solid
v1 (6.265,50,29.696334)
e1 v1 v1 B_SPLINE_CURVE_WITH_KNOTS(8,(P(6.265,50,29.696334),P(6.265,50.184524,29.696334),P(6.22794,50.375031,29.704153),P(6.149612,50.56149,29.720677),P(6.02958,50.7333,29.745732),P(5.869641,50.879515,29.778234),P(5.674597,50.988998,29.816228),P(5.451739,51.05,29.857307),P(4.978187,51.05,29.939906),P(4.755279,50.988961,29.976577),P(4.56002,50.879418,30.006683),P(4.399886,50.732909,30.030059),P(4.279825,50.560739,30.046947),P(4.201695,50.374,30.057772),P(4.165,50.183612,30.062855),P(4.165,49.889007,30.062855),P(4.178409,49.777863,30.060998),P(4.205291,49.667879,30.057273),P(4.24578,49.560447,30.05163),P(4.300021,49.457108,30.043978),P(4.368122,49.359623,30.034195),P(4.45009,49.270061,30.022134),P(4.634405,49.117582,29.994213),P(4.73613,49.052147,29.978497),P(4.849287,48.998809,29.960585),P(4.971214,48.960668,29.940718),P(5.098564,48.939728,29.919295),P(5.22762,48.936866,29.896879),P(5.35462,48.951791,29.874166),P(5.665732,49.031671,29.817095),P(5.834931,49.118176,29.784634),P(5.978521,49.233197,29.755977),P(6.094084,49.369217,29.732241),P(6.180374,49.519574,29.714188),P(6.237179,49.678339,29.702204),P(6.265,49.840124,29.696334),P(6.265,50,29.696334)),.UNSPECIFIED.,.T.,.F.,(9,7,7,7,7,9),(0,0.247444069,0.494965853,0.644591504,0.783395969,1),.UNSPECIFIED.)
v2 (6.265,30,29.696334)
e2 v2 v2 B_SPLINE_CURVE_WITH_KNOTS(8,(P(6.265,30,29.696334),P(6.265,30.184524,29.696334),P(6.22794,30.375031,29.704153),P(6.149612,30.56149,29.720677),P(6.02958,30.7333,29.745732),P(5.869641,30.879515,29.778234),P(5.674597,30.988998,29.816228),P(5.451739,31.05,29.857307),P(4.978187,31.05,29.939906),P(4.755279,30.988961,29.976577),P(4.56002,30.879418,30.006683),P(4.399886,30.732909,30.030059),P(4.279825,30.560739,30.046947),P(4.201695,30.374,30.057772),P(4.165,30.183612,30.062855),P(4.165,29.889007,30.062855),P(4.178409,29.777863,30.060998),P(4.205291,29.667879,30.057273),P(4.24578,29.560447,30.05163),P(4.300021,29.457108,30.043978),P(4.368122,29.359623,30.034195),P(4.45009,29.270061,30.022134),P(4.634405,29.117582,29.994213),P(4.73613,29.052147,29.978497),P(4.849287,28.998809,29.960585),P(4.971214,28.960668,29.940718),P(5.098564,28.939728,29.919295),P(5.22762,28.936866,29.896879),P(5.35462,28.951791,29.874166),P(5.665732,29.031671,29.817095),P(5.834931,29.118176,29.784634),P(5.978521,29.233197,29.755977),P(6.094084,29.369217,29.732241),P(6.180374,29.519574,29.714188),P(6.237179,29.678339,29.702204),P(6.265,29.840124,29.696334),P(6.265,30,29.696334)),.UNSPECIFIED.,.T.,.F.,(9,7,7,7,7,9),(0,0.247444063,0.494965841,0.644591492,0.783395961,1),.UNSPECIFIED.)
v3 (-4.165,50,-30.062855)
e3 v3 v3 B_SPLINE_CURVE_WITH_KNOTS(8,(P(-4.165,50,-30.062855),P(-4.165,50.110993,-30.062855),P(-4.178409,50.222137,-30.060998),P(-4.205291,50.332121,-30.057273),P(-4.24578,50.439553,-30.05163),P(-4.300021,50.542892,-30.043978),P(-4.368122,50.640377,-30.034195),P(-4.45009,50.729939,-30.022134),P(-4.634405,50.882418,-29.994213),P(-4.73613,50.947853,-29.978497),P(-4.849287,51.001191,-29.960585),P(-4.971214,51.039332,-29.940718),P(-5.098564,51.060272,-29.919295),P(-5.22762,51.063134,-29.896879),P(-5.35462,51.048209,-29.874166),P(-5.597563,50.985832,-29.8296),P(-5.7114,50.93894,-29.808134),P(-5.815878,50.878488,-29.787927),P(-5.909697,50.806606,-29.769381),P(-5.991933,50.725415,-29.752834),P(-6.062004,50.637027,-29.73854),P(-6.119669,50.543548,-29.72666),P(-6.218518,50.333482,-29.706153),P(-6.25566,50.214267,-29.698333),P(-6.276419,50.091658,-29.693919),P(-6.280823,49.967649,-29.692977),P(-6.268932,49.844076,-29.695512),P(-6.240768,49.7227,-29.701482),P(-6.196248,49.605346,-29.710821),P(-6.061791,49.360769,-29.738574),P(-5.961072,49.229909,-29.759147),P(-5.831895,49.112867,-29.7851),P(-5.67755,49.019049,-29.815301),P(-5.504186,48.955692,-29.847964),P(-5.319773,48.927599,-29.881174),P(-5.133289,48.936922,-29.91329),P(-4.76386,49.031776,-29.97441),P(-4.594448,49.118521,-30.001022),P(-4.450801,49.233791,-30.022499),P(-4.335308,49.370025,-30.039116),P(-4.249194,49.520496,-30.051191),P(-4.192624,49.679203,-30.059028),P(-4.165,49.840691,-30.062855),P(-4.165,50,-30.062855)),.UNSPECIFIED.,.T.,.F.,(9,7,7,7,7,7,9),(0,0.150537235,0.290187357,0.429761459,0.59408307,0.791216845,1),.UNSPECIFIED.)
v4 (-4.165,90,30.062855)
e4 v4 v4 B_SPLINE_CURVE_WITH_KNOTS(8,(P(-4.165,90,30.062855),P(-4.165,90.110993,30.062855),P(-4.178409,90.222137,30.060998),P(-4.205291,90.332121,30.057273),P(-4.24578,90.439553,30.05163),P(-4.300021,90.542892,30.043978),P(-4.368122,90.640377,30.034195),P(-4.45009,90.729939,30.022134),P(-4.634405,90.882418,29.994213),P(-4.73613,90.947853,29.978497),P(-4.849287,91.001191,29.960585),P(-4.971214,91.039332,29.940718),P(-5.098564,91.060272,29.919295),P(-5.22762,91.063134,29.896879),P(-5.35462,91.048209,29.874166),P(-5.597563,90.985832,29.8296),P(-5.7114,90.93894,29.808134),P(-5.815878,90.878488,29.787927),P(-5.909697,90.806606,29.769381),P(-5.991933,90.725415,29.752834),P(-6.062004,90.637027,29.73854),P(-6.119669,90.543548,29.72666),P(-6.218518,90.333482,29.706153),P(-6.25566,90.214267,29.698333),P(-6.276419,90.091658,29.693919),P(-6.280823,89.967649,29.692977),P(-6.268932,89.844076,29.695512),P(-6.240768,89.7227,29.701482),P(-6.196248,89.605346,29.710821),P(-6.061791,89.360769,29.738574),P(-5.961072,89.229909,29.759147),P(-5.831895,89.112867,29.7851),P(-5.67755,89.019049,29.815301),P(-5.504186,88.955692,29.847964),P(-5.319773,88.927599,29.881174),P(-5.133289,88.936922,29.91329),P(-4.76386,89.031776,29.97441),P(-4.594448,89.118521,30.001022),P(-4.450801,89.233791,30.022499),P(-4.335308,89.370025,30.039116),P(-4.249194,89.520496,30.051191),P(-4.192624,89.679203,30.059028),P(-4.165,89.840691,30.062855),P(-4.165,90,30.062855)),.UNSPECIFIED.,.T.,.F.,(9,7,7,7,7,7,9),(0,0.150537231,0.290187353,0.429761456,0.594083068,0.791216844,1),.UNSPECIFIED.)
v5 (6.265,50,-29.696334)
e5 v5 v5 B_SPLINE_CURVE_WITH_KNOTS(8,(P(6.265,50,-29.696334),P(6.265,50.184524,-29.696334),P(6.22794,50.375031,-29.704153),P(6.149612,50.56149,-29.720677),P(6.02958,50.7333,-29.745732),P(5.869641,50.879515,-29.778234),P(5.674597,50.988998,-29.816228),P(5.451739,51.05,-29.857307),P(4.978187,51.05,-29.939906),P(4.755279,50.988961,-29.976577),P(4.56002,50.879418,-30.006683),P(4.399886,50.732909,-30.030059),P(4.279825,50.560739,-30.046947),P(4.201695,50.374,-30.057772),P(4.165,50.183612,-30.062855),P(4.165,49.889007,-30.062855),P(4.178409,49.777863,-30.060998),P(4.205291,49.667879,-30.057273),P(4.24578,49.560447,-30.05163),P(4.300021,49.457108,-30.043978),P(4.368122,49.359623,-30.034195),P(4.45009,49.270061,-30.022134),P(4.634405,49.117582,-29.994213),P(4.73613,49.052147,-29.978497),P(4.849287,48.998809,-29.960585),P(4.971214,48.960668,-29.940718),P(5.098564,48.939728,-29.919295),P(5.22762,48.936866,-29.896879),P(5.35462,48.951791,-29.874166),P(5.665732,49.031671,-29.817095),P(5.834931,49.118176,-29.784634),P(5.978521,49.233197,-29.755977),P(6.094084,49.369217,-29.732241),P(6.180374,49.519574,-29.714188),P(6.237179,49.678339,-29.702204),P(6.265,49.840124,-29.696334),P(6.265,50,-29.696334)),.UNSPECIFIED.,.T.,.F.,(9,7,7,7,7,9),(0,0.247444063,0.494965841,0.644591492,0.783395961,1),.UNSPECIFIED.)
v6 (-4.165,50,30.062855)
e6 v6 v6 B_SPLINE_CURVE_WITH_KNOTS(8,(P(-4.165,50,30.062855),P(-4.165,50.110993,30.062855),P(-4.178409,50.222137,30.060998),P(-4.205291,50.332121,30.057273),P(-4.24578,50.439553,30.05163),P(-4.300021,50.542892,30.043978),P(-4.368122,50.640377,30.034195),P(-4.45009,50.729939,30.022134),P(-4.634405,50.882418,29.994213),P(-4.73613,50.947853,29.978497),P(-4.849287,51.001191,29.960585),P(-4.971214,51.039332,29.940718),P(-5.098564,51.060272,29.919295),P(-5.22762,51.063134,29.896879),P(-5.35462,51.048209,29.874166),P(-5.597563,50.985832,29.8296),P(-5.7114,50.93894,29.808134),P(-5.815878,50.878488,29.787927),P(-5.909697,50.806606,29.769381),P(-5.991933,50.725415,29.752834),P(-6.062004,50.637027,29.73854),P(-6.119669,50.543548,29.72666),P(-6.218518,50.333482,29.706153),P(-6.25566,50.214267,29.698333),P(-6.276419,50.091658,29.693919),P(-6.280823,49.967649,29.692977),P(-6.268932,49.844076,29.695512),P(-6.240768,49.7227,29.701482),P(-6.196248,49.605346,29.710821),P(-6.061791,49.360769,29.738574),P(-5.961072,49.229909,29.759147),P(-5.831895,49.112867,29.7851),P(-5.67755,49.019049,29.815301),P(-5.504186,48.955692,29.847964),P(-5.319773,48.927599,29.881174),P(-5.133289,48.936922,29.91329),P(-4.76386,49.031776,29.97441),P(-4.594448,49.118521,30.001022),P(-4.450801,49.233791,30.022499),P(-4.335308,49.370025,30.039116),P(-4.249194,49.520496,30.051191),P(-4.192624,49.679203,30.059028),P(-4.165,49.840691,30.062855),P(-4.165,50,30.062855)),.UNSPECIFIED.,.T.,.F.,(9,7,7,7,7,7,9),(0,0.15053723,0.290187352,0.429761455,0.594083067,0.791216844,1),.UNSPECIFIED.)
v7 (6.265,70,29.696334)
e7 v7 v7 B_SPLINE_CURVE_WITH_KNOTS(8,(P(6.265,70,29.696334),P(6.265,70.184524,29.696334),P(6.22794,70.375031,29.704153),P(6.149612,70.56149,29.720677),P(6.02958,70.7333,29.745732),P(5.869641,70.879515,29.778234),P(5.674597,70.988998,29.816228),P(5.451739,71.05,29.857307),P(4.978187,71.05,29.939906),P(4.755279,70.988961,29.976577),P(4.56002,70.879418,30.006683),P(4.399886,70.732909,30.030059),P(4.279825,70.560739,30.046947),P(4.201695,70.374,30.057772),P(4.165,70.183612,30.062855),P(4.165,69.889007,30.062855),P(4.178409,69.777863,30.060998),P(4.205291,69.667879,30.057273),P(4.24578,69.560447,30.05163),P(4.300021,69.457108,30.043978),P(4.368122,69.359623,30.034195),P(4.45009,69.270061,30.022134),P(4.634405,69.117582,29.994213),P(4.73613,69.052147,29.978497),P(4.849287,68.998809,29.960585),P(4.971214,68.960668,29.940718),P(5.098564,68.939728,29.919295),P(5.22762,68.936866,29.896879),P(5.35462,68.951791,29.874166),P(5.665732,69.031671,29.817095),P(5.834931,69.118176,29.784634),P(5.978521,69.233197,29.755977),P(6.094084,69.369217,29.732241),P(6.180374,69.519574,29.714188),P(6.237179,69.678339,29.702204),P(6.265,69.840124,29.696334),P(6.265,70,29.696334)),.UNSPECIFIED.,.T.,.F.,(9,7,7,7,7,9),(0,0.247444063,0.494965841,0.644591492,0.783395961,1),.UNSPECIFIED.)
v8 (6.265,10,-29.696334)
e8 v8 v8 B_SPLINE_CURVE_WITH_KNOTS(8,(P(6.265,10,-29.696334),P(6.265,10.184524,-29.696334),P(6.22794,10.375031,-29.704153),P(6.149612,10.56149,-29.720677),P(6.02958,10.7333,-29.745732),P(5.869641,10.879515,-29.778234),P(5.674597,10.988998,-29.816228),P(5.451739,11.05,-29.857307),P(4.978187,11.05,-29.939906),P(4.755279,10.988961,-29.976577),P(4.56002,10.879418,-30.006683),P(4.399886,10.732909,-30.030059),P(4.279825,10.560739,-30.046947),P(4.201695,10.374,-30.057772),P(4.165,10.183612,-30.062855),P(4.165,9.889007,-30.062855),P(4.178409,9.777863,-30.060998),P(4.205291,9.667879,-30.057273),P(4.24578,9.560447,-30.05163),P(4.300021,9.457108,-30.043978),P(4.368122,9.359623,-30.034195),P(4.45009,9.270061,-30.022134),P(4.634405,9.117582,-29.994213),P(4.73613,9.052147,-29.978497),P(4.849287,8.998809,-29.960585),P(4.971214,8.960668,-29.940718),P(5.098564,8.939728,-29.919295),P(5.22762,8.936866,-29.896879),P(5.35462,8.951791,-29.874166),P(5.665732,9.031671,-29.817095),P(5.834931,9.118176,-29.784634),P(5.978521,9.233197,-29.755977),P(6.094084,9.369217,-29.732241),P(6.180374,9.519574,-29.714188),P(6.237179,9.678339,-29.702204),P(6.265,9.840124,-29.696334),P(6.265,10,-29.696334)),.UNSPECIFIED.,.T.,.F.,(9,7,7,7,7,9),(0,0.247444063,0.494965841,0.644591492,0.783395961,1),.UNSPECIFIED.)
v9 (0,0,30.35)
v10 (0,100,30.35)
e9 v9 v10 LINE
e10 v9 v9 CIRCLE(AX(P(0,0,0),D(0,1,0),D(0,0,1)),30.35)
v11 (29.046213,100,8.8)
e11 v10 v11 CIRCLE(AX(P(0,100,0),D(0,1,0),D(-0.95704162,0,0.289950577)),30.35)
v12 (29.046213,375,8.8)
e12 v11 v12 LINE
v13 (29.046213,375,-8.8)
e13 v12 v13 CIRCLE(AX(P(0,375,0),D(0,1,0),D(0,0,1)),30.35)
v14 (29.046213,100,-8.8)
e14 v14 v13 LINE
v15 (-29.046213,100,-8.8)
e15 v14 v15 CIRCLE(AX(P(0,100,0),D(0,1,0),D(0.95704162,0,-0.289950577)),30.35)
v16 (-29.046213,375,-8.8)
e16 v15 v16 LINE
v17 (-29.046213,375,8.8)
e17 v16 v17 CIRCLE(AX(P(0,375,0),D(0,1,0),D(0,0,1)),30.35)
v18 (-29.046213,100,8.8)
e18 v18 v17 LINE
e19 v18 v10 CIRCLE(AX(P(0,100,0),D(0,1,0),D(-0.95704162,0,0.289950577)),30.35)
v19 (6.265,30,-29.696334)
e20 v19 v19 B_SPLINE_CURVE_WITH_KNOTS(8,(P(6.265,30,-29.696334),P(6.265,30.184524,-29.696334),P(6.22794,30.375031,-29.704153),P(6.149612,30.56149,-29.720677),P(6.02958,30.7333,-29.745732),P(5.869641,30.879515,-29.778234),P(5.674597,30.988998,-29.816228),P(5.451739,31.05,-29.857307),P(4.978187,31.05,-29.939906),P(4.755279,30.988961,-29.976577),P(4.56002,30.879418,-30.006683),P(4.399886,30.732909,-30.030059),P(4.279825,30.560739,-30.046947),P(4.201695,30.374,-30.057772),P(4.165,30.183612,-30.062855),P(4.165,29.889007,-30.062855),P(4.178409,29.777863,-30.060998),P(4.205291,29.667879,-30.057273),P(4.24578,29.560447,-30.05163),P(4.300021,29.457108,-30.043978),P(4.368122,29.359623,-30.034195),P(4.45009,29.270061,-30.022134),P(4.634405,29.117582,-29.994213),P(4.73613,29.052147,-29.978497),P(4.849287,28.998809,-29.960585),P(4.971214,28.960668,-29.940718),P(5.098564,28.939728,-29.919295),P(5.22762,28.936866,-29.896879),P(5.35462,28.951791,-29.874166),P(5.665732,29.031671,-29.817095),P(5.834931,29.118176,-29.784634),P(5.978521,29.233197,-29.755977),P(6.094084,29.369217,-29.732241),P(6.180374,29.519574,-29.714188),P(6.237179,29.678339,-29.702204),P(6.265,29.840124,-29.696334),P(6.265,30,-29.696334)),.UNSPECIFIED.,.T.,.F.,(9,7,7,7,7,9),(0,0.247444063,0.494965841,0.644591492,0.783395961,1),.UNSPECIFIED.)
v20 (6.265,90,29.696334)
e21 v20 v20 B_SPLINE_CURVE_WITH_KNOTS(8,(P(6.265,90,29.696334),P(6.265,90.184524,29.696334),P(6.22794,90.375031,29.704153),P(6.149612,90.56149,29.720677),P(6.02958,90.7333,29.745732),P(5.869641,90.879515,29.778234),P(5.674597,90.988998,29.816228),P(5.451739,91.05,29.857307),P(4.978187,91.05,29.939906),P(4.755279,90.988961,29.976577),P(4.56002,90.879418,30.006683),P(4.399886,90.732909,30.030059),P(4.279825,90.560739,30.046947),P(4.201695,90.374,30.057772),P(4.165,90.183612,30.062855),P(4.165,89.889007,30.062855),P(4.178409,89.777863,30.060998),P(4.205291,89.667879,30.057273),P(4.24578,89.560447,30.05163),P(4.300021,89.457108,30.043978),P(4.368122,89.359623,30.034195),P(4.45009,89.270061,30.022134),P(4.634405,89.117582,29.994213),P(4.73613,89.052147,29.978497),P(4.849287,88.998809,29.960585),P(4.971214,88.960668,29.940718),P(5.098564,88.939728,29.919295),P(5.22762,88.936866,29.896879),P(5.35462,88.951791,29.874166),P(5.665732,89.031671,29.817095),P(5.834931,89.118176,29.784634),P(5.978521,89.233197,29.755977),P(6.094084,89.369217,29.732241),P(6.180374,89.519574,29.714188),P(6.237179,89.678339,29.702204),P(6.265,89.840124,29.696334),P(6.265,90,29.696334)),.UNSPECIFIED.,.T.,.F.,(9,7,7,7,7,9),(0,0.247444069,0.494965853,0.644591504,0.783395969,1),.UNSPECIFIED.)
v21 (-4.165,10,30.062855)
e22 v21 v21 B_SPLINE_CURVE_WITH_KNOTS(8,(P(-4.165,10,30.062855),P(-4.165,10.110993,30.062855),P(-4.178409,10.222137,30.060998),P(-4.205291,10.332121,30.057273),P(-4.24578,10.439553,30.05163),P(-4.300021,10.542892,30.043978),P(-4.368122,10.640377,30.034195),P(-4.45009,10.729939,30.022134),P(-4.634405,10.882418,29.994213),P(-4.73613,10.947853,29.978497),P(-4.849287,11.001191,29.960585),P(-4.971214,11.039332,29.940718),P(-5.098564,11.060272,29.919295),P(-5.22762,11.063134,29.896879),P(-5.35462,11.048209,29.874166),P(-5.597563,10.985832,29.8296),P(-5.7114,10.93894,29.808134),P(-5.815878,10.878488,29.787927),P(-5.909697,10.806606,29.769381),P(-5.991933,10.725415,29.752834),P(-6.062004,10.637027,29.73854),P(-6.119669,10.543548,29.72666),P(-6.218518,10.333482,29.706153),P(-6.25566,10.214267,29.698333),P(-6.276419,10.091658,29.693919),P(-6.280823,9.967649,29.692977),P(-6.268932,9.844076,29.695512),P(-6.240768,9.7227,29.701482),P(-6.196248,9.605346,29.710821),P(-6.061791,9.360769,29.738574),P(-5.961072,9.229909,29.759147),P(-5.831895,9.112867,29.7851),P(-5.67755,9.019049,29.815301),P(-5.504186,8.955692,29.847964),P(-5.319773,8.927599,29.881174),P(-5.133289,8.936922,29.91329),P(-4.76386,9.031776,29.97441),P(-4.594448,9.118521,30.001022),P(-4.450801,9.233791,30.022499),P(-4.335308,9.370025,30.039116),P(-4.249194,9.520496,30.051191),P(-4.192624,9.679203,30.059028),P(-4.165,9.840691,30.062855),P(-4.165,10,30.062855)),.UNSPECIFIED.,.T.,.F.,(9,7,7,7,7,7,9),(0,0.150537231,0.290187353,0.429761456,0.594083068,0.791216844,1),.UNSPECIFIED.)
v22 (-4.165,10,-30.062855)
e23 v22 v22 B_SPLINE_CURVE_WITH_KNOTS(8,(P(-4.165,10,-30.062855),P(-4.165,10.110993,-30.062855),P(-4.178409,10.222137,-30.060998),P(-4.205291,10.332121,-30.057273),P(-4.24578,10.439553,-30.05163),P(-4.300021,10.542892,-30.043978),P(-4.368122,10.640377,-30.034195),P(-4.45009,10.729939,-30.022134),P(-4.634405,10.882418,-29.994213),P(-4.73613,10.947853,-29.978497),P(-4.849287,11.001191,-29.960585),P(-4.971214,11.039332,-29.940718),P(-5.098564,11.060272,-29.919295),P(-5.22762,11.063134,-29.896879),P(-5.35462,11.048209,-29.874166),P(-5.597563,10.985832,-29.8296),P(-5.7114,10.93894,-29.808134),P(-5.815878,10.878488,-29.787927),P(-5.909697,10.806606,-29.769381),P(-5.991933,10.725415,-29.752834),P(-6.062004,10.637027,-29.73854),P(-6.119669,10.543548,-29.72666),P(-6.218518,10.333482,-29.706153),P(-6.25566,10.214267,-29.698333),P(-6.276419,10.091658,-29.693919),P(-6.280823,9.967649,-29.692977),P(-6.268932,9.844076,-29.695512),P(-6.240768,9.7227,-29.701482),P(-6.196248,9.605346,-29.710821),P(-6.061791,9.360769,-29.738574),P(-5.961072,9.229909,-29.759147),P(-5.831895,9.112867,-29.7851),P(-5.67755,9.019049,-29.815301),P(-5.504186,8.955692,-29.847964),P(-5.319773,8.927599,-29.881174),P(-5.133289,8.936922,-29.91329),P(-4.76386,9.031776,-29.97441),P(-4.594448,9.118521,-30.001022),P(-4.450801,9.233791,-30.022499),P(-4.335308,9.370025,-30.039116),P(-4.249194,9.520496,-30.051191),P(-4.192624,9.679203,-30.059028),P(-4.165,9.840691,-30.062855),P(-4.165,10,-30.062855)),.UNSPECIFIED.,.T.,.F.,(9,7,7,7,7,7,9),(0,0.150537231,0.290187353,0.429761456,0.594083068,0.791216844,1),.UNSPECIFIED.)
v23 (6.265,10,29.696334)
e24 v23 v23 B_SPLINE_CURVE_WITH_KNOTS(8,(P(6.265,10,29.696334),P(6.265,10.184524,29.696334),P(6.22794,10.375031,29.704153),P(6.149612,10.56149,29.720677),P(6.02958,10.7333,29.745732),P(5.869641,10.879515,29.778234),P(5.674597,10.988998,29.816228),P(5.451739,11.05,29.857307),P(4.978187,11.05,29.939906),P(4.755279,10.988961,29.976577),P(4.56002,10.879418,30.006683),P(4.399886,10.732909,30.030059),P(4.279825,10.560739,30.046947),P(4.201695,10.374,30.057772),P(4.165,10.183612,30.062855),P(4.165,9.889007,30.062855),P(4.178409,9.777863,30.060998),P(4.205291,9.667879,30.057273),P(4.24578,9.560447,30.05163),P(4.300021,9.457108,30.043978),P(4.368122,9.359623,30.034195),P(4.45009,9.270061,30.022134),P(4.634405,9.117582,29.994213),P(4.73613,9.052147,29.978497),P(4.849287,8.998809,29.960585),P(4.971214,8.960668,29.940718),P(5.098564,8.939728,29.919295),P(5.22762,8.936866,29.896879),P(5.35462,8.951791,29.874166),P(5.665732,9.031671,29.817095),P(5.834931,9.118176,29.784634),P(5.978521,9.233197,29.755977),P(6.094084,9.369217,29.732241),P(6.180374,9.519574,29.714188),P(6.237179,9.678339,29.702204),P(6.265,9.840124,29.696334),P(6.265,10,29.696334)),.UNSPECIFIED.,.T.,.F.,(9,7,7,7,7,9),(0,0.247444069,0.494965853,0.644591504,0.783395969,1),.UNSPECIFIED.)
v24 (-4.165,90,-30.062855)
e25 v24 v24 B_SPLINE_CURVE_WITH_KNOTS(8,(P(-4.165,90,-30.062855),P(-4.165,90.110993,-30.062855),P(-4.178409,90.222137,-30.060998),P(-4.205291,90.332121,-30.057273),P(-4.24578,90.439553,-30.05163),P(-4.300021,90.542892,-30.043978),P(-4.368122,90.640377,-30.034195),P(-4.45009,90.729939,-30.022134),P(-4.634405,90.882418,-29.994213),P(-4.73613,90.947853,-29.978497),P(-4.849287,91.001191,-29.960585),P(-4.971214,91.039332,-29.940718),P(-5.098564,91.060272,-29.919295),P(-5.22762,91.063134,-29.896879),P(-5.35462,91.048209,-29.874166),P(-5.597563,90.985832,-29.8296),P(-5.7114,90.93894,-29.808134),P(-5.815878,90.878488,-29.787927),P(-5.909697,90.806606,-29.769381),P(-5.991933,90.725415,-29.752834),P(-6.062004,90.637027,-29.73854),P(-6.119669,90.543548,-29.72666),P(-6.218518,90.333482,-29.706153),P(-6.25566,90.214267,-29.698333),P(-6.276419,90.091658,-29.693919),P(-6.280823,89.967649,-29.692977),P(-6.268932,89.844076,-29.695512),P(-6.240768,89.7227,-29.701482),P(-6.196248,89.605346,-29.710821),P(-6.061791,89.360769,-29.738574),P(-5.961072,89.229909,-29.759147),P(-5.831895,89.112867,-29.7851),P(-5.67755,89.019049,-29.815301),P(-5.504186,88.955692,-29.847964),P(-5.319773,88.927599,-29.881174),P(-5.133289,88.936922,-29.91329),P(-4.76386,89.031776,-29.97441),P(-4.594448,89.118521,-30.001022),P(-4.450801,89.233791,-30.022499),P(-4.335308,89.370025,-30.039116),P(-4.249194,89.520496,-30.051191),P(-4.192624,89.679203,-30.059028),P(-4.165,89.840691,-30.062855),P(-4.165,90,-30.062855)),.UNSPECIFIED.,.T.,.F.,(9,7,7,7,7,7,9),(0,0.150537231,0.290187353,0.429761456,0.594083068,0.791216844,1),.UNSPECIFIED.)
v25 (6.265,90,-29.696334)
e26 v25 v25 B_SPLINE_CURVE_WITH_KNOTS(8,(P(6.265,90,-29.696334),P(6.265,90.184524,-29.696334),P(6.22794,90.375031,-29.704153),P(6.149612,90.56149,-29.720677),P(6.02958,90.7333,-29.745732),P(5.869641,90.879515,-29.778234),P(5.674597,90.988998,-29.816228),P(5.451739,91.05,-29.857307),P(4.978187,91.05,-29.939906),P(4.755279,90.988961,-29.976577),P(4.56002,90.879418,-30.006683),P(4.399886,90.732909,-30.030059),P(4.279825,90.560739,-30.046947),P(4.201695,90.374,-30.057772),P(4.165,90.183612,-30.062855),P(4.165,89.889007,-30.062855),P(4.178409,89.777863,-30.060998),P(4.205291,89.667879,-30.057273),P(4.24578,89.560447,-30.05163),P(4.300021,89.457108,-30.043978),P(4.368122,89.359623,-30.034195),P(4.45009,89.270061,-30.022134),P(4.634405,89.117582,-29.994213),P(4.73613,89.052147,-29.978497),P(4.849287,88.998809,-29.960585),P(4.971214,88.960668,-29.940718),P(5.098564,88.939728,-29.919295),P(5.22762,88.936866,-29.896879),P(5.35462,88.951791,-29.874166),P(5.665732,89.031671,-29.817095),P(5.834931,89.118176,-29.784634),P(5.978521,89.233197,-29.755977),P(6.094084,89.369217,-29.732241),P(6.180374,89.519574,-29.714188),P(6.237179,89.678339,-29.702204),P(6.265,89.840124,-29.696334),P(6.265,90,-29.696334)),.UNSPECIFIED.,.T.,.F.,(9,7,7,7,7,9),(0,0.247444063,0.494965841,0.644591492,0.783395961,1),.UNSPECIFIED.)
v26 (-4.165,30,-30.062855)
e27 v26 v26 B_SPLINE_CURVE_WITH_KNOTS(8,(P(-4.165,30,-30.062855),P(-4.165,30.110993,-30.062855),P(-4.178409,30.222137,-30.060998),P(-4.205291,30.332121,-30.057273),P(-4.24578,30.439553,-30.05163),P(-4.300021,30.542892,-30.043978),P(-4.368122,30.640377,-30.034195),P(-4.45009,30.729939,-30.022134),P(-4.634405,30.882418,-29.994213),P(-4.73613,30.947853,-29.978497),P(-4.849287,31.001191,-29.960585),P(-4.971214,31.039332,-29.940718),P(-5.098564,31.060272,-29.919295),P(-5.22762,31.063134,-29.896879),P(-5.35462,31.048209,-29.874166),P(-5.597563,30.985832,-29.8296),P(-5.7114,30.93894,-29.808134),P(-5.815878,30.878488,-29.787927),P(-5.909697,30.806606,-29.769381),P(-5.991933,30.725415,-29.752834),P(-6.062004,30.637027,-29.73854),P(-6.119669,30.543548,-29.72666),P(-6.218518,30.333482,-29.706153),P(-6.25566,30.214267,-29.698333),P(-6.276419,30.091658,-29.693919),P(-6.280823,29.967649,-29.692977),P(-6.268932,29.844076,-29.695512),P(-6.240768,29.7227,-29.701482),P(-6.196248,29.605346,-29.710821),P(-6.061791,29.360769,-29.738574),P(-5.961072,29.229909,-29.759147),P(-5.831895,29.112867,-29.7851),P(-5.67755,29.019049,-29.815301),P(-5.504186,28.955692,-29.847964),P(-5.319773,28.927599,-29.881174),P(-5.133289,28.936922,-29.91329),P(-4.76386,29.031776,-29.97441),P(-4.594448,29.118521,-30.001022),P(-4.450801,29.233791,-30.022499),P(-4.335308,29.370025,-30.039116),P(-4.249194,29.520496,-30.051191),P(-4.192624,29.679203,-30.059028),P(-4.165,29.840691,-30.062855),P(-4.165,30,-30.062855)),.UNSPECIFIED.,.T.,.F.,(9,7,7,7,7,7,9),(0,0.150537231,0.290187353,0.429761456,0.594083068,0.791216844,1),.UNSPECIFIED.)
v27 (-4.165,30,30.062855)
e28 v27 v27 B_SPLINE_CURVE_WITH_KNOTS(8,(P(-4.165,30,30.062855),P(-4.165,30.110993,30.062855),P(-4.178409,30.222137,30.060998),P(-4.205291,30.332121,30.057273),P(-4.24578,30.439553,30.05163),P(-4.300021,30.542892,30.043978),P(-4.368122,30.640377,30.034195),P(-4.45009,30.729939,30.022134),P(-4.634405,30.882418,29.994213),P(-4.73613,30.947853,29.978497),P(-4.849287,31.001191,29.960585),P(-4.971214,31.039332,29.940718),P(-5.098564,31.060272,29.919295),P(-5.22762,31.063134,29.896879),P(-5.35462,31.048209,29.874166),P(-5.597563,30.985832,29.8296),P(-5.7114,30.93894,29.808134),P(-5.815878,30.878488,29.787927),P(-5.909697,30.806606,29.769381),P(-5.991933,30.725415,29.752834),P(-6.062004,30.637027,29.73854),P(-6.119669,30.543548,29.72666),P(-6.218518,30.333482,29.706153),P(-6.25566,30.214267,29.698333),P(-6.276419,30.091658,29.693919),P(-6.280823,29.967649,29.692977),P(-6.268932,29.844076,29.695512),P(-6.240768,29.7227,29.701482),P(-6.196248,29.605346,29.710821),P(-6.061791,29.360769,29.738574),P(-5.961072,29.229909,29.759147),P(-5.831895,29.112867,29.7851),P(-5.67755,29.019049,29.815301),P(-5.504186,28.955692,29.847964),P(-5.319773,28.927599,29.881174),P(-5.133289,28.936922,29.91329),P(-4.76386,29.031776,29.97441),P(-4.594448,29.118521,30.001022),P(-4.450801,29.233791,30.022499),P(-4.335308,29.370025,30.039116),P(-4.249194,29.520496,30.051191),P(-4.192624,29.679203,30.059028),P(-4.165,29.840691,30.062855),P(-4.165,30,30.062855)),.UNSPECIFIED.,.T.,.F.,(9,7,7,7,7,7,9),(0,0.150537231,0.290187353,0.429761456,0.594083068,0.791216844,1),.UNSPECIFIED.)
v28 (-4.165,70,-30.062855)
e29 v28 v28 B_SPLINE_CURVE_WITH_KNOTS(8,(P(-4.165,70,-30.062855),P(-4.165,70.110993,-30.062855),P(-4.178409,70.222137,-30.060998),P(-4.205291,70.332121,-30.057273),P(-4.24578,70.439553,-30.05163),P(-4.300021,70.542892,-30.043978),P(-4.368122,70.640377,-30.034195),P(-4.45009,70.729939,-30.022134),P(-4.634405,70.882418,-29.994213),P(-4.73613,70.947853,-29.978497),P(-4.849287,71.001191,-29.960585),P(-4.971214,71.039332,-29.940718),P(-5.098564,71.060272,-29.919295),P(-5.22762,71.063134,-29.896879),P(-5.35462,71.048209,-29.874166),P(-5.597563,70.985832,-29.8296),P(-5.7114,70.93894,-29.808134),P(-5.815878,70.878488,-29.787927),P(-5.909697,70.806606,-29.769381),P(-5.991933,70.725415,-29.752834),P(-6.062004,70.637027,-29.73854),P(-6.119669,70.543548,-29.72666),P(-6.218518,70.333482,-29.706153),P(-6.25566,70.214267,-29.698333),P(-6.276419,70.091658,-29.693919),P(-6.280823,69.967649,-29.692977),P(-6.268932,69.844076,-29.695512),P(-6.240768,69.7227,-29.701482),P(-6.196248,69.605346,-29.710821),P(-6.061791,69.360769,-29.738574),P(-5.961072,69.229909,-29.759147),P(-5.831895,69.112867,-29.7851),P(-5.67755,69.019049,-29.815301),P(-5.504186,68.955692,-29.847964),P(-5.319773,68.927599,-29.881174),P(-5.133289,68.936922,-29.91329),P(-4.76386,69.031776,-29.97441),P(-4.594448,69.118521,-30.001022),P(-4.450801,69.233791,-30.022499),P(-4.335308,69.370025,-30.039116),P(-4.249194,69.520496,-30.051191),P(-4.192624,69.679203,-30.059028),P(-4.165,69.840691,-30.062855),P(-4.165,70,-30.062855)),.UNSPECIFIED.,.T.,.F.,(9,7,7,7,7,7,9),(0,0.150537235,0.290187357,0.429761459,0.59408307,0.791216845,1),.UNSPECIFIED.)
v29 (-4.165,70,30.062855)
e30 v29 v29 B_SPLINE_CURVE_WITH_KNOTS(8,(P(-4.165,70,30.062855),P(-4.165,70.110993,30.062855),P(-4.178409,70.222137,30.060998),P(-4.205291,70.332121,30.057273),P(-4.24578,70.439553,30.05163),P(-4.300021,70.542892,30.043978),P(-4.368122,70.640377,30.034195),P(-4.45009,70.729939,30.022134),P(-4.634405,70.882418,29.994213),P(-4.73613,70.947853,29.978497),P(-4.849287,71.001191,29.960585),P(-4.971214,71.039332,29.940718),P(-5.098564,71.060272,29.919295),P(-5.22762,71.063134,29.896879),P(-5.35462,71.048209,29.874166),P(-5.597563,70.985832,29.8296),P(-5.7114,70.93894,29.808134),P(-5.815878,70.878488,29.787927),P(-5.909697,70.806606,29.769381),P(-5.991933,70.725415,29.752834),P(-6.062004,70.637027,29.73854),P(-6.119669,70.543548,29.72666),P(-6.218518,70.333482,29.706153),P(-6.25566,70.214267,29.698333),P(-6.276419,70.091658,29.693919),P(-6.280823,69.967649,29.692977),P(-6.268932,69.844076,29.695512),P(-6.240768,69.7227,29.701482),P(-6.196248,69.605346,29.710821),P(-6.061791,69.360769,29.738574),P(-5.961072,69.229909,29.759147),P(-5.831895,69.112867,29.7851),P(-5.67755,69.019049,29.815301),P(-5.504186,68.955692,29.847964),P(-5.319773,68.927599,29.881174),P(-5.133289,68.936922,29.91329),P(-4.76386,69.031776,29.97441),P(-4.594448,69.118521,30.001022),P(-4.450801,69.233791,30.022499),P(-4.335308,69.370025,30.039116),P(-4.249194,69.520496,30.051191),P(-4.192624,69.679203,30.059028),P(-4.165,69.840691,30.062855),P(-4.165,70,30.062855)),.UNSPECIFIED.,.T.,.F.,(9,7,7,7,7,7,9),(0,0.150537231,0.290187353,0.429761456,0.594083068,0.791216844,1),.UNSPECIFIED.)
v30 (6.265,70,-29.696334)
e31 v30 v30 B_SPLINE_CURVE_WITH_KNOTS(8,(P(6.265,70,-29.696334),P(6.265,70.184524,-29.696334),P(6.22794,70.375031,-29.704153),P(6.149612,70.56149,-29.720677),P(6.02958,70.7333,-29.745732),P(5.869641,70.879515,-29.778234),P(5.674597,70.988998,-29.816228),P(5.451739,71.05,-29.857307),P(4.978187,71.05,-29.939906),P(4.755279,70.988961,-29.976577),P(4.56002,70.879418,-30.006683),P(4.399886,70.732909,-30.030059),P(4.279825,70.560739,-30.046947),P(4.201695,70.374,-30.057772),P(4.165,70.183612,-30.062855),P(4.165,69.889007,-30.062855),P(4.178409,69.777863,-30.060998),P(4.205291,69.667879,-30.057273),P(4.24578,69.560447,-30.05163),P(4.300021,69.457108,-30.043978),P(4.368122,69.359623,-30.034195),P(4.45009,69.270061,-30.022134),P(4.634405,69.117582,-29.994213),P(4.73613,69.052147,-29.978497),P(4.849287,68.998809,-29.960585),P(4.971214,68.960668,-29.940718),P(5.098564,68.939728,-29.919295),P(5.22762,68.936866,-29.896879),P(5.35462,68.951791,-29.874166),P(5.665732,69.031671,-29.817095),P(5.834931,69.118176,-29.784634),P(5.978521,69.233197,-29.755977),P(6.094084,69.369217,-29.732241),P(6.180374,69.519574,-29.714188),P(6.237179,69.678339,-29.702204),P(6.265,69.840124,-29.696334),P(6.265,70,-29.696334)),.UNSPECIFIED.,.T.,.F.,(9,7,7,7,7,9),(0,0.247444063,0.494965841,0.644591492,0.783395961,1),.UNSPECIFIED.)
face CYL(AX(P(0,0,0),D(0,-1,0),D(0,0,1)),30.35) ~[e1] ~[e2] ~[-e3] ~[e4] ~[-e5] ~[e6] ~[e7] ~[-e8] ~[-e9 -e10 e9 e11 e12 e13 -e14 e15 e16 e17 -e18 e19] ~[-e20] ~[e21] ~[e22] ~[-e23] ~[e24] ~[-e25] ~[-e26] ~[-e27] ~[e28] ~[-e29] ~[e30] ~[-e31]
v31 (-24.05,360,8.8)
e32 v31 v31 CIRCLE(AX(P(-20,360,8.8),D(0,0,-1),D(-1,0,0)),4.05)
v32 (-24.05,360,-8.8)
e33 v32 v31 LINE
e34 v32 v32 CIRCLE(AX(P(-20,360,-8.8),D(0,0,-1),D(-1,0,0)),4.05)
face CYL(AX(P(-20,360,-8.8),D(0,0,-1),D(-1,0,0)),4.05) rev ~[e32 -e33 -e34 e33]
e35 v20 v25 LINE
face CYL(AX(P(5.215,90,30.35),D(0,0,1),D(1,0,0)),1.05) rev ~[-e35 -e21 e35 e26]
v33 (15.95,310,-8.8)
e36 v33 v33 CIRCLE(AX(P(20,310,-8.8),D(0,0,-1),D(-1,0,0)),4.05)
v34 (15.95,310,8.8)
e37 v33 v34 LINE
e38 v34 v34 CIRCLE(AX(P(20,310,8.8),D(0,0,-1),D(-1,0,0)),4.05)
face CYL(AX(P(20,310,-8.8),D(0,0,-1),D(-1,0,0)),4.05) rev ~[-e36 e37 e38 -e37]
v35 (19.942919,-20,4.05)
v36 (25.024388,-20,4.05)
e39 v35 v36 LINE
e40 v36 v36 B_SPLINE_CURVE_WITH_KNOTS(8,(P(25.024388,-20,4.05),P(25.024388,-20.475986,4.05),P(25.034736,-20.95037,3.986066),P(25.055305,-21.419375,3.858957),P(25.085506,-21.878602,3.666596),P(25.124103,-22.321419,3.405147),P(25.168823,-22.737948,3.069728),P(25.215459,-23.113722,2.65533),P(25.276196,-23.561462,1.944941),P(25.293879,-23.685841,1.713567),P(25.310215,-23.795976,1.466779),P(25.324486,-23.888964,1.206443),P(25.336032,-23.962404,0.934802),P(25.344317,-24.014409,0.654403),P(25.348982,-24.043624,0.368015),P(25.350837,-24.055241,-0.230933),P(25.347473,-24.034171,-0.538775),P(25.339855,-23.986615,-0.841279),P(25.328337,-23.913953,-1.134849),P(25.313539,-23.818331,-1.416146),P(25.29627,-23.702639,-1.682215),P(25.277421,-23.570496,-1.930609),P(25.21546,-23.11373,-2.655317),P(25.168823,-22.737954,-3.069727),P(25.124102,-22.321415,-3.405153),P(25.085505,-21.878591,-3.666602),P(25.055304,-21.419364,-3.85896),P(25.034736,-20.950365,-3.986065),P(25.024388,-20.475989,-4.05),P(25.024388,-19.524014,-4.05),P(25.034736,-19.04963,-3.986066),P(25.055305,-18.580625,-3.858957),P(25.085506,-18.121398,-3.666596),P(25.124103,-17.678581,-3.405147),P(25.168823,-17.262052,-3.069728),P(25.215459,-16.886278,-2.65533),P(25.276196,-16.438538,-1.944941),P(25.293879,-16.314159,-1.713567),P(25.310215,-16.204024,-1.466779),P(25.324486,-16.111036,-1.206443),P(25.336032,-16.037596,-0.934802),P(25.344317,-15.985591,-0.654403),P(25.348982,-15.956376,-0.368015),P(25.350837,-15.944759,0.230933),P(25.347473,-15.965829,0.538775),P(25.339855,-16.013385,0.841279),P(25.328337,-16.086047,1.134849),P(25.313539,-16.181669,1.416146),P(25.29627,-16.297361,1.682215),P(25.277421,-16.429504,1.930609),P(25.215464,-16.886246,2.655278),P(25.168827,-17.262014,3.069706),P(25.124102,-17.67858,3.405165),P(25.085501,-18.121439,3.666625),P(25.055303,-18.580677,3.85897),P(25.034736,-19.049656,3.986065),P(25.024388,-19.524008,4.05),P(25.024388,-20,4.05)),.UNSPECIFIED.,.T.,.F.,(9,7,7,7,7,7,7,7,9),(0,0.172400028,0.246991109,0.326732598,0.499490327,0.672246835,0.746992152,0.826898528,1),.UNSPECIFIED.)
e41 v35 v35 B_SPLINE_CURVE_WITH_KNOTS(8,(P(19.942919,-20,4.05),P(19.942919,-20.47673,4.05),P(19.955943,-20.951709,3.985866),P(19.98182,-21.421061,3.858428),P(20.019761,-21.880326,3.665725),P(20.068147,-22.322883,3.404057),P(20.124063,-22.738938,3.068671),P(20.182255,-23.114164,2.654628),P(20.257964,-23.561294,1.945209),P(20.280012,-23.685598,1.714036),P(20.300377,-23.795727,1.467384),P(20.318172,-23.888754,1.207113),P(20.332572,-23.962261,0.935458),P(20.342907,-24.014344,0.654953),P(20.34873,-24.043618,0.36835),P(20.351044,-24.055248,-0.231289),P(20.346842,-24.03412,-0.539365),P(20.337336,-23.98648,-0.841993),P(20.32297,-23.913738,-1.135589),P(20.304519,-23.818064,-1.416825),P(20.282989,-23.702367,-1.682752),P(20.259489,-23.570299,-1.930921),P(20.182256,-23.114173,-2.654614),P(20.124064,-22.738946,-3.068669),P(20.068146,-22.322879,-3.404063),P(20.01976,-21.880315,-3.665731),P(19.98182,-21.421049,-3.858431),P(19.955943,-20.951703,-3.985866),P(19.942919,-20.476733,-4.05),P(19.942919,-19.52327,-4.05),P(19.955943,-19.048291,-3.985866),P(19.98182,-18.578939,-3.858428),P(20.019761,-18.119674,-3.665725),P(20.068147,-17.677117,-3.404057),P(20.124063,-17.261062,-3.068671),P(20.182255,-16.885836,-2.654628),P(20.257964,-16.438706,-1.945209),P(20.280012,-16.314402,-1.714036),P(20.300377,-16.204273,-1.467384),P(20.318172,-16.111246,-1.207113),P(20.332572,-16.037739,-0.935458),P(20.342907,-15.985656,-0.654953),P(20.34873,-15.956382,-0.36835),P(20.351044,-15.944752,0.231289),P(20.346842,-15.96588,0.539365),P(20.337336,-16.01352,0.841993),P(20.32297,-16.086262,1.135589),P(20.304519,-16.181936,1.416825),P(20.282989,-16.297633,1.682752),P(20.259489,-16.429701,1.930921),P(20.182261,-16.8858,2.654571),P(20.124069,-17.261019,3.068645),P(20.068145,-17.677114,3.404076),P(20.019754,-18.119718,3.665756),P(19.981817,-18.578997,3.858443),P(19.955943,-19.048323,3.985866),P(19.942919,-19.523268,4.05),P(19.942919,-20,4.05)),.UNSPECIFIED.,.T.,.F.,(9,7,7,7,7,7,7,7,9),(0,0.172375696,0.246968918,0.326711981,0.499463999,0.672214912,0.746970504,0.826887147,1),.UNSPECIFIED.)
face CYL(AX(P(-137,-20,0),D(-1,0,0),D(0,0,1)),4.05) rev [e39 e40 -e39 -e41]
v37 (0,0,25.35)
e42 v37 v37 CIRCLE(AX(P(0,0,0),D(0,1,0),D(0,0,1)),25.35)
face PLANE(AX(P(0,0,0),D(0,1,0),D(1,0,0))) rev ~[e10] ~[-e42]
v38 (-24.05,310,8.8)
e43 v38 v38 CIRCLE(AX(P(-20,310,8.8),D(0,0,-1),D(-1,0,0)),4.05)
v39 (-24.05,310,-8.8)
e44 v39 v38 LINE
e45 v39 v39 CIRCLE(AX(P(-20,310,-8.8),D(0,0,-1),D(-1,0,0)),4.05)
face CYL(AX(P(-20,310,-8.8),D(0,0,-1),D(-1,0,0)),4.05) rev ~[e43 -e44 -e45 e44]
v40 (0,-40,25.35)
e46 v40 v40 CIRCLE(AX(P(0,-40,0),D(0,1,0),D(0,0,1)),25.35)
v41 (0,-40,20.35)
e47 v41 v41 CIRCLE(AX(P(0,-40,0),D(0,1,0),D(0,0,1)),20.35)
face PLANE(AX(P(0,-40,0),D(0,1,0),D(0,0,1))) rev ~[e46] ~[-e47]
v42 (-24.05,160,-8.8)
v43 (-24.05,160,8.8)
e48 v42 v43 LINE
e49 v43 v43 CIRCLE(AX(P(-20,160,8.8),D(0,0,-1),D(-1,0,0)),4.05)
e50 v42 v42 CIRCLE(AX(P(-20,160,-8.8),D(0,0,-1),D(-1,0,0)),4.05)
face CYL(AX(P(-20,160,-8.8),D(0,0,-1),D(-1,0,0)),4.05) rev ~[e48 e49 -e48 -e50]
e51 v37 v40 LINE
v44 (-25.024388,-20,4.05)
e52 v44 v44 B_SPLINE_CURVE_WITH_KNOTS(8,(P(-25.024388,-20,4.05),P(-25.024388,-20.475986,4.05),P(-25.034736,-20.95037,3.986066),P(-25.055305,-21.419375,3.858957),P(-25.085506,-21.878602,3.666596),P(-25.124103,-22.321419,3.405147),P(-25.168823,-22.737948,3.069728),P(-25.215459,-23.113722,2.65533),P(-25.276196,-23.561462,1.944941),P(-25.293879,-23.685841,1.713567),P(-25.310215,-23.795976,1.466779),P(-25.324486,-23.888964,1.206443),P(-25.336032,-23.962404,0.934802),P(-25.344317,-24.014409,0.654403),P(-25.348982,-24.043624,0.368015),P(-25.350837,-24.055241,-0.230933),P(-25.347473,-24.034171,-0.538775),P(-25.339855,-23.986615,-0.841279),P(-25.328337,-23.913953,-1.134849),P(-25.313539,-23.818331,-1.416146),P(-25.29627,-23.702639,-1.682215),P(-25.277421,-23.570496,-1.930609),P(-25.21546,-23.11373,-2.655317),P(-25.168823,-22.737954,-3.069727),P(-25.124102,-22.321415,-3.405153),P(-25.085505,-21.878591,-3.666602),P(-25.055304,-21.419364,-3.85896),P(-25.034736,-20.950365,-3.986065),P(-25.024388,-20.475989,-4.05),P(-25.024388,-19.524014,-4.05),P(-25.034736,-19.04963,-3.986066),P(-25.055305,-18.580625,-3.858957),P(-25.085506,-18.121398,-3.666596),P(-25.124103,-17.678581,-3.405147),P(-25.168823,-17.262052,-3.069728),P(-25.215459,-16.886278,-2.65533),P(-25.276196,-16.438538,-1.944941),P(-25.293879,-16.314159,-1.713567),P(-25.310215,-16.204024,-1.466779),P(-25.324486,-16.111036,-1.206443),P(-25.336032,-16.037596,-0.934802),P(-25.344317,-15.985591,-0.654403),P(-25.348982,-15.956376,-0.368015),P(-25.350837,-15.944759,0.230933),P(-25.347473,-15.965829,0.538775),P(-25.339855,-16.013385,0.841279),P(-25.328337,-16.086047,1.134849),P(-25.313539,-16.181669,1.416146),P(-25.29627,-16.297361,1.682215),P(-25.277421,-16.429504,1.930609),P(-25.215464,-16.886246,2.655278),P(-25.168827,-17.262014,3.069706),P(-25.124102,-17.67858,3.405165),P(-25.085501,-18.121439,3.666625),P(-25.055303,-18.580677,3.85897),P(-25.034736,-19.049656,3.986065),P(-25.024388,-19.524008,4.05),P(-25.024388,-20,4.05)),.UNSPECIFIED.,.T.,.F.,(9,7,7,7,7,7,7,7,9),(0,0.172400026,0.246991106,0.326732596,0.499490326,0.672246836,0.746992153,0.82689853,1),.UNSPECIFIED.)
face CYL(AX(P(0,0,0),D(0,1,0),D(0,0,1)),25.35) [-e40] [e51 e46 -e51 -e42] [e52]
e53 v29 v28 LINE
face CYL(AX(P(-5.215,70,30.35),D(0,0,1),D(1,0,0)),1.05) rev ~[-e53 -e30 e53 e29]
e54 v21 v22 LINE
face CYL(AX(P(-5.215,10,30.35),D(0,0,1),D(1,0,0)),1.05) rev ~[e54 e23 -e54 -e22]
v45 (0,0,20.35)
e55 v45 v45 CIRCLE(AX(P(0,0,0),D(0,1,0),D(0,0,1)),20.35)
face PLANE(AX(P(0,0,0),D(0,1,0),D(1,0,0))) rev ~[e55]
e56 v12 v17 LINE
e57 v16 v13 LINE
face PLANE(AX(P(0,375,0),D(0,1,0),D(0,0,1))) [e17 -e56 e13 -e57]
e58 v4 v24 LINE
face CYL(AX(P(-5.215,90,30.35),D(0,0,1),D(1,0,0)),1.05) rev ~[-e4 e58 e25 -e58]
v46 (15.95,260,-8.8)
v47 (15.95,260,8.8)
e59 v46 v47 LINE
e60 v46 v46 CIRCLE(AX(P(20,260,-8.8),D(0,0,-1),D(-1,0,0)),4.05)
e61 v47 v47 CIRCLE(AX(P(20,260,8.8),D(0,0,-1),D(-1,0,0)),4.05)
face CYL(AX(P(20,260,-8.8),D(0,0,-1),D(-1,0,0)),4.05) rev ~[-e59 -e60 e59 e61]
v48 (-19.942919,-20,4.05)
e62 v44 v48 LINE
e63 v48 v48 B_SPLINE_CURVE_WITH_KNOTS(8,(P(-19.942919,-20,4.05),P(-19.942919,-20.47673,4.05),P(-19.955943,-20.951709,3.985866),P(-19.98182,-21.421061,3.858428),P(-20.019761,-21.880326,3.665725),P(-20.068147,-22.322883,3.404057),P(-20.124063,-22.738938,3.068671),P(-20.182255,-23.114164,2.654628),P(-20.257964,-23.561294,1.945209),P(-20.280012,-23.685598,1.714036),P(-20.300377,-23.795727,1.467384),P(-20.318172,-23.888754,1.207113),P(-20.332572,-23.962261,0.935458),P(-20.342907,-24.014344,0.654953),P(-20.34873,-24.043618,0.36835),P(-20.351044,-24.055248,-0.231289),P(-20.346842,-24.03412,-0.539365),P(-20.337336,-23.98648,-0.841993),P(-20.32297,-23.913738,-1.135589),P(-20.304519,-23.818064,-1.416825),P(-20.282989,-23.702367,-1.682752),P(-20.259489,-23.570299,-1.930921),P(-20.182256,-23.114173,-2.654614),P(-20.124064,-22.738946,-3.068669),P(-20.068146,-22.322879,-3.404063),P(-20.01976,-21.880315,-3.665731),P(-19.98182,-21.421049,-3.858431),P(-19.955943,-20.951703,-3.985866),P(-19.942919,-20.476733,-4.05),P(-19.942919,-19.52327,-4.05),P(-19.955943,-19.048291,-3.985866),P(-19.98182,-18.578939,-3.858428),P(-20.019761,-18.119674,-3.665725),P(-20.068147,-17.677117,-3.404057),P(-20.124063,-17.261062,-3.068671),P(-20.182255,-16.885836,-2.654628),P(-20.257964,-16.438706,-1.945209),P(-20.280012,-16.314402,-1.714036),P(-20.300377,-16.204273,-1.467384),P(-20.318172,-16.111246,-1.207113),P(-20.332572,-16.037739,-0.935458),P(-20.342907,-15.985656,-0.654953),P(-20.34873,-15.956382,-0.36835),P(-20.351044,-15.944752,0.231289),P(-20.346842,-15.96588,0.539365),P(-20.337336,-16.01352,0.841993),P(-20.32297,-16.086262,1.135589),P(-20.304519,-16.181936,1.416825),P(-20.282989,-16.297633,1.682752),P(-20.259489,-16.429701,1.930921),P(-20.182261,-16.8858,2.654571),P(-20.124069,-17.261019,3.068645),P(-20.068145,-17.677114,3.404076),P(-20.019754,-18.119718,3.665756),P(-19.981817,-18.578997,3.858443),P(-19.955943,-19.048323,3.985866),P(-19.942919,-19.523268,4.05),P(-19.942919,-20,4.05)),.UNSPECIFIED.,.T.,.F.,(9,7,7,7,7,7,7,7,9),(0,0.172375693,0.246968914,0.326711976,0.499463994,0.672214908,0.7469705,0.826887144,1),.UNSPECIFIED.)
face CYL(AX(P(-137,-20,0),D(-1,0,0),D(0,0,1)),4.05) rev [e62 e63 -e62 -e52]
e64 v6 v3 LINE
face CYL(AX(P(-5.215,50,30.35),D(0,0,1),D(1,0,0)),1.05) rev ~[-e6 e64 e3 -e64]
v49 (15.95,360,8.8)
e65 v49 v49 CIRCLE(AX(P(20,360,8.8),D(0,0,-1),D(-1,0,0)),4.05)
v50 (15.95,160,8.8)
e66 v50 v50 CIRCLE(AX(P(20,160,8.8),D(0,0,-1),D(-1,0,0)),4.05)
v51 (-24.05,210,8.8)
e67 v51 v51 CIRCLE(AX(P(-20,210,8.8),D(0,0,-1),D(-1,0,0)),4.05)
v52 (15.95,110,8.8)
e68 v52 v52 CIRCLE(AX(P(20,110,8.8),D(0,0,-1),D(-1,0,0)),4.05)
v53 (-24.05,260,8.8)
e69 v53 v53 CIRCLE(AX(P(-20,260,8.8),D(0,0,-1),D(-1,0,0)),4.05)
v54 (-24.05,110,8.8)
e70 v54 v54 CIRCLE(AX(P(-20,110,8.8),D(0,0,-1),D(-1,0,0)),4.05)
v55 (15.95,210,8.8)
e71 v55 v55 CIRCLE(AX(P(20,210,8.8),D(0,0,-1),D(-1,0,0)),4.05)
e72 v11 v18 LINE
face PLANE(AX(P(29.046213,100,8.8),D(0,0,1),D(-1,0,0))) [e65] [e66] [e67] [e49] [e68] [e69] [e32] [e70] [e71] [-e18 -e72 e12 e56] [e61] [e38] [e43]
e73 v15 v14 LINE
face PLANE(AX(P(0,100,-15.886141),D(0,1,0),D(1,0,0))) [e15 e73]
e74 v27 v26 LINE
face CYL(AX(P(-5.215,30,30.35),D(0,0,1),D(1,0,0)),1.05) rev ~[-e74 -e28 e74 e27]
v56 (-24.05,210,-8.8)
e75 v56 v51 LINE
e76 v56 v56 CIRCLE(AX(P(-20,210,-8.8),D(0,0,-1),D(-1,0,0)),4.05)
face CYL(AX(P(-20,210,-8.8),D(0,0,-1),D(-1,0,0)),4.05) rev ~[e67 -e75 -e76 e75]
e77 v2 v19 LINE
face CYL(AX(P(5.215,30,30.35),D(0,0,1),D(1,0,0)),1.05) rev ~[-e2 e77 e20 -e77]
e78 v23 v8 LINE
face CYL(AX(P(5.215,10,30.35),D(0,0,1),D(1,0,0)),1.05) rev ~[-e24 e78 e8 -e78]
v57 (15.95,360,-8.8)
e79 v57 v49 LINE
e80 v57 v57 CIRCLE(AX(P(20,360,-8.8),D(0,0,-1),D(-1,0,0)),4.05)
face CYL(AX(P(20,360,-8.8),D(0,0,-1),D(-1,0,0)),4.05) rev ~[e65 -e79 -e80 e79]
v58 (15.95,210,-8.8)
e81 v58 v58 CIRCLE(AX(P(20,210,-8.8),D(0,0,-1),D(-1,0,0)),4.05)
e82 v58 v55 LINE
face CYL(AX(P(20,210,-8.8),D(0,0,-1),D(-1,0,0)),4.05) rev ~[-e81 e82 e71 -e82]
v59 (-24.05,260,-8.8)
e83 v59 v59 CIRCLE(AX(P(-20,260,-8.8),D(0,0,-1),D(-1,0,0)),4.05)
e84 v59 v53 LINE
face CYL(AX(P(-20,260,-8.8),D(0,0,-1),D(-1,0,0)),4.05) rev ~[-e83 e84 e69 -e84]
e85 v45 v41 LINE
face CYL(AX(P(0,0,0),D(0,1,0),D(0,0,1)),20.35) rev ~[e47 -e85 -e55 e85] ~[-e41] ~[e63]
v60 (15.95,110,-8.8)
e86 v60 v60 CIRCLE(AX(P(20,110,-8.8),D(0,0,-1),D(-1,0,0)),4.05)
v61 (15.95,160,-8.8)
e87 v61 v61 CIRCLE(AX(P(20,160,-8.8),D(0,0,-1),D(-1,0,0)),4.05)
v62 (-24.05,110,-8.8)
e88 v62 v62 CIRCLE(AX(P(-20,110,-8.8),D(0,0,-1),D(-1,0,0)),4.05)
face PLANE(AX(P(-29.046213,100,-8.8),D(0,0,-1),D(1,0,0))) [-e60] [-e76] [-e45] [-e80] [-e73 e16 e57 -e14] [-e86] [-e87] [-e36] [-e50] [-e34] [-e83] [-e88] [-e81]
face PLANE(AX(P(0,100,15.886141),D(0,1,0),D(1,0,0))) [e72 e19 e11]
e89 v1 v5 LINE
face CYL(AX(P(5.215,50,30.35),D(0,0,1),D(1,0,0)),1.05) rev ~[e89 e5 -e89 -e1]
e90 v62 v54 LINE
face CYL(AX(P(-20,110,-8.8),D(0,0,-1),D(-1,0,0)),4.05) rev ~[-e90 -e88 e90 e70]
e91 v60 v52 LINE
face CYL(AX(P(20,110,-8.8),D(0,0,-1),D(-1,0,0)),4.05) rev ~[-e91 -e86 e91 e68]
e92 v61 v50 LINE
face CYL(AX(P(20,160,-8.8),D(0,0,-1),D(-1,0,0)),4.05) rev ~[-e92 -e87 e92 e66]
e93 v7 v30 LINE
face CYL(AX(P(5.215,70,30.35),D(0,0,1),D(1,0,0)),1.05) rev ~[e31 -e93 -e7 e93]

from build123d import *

# Parameters (mm, degrees)
SKETCH1_R               = 30.35
BOSS_EXTRUDE2_DEPTH     = 375
SKETCH1_3_R             = 25.35
SKETCH1_3_R_2           = 20.35
BOSS_EXTRUDE3_DEPTH     = 40
CUT_EXTRUDE3_START      = -275
CUT_EXTRUDE3_DEPTH      = 275
SKETCH8_R               = 1.05
CUT_EXTRUDE5_DEPTH      = 137
CUT_EXTRUDE6_DEPTH      = 137
CUT_EXTRUDE6_DEPTH_BACK = 137
SKETCH9_R               = 4.05
SKETCH10_R              = 4.05
CUT_EXTRUDE7_DEPTH      = 137


with BuildPart() as part:
    # Sketch1 → Boss-Extrude2 (new body)
    with BuildSketch(Plane(origin=(0, 0, 0), x_dir=(1, 0, 0), z_dir=(0, 1, 0))):
        Circle(SKETCH1_R)
    extrude(amount=BOSS_EXTRUDE2_DEPTH)

    # Sketch1<3> → Boss-Extrude3 (add)
    with BuildSketch(Plane(origin=(0, 0, 0), x_dir=(1, 0, 0), z_dir=(0, 1, 0))):
        Circle(SKETCH1_3_R)
        Circle(SKETCH1_3_R_2, mode=Mode.SUBTRACT)
    extrude(amount=-BOSS_EXTRUDE3_DEPTH)

    # Sketch6 → Cut-Extrude3 (cut)
    with BuildSketch(Plane(origin=(0, 375, 0), x_dir=(1, 0, 0), z_dir=(0, 1, 0)).offset(CUT_EXTRUDE3_START)):
        with BuildLine():
            Line((29.046213178, -8.8), (-29.046213178, -8.8))
            ThreePointArc((-29.046213178, -8.8), (-27.310672817, -13.238189087), (-24.901807163, -17.35))
            Line((-24.901807163, -17.35), (-42.831763914, -17.35))
            ThreePointArc((-42.831763914, -17.35), (0, -46.212363064), (42.831763914, -17.35))
            Line((42.831763914, -17.35), (24.901807163, -17.35))
            ThreePointArc((24.901807163, -17.35), (27.310672817, -13.238189087), (29.046213178, -8.8))
        make_face()
        with BuildLine():
            Line((-29.046213178, 8.8), (29.046213178, 8.8))
            ThreePointArc((29.046213178, 8.8), (27.310672817, 13.238189087), (24.901807163, 17.35))
            Line((24.901807163, 17.35), (42.831763914, 17.35))
            ThreePointArc((42.831763914, 17.35), (0, 46.212363064), (-42.831763914, 17.35))
            Line((-42.831763914, 17.35), (-24.901807163, 17.35))
            ThreePointArc((-24.901807163, 17.35), (-27.310672817, 13.238189087), (-29.046213178, 8.8))
        make_face()
    extrude(amount=CUT_EXTRUDE3_DEPTH, mode=Mode.SUBTRACT)

    # Sketch8 → Cut-Extrude5 (cut)
    with BuildSketch(Plane.XY.offset(30.35)):
        with Locations((5.215, 50)):
            Circle(SKETCH8_R)
        with Locations((-5.215, 50)):
            Circle(SKETCH8_R)
        with Locations((-5.215, 70)):
            Circle(SKETCH8_R)
        with Locations((5.215, 70)):
            Circle(SKETCH8_R)
        with Locations((-5.215, 90)):
            Circle(SKETCH8_R)
        with Locations((5.215, 90)):
            Circle(SKETCH8_R)
        with Locations((5.215, 30)):
            Circle(SKETCH8_R)
        with Locations((-5.215, 30)):
            Circle(SKETCH8_R)
        with Locations((5.215, 10)):
            Circle(SKETCH8_R)
        with Locations((-5.215, 10)):
            Circle(SKETCH8_R)
    extrude(amount=-CUT_EXTRUDE5_DEPTH, mode=Mode.SUBTRACT)

    # Sketch9 → Cut-Extrude6 (cut, two sides: drawn at the far end of the back side and taken through both)
    with BuildSketch(Plane(origin=(0, 0, 0), x_dir=(0, 0, -1), z_dir=(1, 0, 0)).offset(-CUT_EXTRUDE6_DEPTH_BACK)):
        with Locations((0, -20)):
            Circle(SKETCH9_R)
    extrude(amount=CUT_EXTRUDE6_DEPTH + CUT_EXTRUDE6_DEPTH_BACK, mode=Mode.SUBTRACT)

    # Sketch10 → Cut-Extrude7 (cut)
    with BuildSketch(Plane(origin=(0, 0, -8.8), x_dir=(-1, 0, 0), z_dir=(0, 0, -1))):
        with Locations((-20, 110)):
            Circle(SKETCH10_R)
        with Locations((20, 110)):
            Circle(SKETCH10_R)
        with Locations((-20, 160)):
            Circle(SKETCH10_R)
        with Locations((20, 160)):
            Circle(SKETCH10_R)
        with Locations((-20, 210)):
            Circle(SKETCH10_R)
        with Locations((20, 210)):
            Circle(SKETCH10_R)
        with Locations((-20, 260)):
            Circle(SKETCH10_R)
        with Locations((20, 260)):
            Circle(SKETCH10_R)
        with Locations((-20, 310)):
            Circle(SKETCH10_R)
        with Locations((20, 310)):
            Circle(SKETCH10_R)
        with Locations((-20, 360)):
            Circle(SKETCH10_R)
        with Locations((20, 360)):
            Circle(SKETCH10_R)
    extrude(amount=-CUT_EXTRUDE7_DEPTH, mode=Mode.SUBTRACT)


solid = part.part
